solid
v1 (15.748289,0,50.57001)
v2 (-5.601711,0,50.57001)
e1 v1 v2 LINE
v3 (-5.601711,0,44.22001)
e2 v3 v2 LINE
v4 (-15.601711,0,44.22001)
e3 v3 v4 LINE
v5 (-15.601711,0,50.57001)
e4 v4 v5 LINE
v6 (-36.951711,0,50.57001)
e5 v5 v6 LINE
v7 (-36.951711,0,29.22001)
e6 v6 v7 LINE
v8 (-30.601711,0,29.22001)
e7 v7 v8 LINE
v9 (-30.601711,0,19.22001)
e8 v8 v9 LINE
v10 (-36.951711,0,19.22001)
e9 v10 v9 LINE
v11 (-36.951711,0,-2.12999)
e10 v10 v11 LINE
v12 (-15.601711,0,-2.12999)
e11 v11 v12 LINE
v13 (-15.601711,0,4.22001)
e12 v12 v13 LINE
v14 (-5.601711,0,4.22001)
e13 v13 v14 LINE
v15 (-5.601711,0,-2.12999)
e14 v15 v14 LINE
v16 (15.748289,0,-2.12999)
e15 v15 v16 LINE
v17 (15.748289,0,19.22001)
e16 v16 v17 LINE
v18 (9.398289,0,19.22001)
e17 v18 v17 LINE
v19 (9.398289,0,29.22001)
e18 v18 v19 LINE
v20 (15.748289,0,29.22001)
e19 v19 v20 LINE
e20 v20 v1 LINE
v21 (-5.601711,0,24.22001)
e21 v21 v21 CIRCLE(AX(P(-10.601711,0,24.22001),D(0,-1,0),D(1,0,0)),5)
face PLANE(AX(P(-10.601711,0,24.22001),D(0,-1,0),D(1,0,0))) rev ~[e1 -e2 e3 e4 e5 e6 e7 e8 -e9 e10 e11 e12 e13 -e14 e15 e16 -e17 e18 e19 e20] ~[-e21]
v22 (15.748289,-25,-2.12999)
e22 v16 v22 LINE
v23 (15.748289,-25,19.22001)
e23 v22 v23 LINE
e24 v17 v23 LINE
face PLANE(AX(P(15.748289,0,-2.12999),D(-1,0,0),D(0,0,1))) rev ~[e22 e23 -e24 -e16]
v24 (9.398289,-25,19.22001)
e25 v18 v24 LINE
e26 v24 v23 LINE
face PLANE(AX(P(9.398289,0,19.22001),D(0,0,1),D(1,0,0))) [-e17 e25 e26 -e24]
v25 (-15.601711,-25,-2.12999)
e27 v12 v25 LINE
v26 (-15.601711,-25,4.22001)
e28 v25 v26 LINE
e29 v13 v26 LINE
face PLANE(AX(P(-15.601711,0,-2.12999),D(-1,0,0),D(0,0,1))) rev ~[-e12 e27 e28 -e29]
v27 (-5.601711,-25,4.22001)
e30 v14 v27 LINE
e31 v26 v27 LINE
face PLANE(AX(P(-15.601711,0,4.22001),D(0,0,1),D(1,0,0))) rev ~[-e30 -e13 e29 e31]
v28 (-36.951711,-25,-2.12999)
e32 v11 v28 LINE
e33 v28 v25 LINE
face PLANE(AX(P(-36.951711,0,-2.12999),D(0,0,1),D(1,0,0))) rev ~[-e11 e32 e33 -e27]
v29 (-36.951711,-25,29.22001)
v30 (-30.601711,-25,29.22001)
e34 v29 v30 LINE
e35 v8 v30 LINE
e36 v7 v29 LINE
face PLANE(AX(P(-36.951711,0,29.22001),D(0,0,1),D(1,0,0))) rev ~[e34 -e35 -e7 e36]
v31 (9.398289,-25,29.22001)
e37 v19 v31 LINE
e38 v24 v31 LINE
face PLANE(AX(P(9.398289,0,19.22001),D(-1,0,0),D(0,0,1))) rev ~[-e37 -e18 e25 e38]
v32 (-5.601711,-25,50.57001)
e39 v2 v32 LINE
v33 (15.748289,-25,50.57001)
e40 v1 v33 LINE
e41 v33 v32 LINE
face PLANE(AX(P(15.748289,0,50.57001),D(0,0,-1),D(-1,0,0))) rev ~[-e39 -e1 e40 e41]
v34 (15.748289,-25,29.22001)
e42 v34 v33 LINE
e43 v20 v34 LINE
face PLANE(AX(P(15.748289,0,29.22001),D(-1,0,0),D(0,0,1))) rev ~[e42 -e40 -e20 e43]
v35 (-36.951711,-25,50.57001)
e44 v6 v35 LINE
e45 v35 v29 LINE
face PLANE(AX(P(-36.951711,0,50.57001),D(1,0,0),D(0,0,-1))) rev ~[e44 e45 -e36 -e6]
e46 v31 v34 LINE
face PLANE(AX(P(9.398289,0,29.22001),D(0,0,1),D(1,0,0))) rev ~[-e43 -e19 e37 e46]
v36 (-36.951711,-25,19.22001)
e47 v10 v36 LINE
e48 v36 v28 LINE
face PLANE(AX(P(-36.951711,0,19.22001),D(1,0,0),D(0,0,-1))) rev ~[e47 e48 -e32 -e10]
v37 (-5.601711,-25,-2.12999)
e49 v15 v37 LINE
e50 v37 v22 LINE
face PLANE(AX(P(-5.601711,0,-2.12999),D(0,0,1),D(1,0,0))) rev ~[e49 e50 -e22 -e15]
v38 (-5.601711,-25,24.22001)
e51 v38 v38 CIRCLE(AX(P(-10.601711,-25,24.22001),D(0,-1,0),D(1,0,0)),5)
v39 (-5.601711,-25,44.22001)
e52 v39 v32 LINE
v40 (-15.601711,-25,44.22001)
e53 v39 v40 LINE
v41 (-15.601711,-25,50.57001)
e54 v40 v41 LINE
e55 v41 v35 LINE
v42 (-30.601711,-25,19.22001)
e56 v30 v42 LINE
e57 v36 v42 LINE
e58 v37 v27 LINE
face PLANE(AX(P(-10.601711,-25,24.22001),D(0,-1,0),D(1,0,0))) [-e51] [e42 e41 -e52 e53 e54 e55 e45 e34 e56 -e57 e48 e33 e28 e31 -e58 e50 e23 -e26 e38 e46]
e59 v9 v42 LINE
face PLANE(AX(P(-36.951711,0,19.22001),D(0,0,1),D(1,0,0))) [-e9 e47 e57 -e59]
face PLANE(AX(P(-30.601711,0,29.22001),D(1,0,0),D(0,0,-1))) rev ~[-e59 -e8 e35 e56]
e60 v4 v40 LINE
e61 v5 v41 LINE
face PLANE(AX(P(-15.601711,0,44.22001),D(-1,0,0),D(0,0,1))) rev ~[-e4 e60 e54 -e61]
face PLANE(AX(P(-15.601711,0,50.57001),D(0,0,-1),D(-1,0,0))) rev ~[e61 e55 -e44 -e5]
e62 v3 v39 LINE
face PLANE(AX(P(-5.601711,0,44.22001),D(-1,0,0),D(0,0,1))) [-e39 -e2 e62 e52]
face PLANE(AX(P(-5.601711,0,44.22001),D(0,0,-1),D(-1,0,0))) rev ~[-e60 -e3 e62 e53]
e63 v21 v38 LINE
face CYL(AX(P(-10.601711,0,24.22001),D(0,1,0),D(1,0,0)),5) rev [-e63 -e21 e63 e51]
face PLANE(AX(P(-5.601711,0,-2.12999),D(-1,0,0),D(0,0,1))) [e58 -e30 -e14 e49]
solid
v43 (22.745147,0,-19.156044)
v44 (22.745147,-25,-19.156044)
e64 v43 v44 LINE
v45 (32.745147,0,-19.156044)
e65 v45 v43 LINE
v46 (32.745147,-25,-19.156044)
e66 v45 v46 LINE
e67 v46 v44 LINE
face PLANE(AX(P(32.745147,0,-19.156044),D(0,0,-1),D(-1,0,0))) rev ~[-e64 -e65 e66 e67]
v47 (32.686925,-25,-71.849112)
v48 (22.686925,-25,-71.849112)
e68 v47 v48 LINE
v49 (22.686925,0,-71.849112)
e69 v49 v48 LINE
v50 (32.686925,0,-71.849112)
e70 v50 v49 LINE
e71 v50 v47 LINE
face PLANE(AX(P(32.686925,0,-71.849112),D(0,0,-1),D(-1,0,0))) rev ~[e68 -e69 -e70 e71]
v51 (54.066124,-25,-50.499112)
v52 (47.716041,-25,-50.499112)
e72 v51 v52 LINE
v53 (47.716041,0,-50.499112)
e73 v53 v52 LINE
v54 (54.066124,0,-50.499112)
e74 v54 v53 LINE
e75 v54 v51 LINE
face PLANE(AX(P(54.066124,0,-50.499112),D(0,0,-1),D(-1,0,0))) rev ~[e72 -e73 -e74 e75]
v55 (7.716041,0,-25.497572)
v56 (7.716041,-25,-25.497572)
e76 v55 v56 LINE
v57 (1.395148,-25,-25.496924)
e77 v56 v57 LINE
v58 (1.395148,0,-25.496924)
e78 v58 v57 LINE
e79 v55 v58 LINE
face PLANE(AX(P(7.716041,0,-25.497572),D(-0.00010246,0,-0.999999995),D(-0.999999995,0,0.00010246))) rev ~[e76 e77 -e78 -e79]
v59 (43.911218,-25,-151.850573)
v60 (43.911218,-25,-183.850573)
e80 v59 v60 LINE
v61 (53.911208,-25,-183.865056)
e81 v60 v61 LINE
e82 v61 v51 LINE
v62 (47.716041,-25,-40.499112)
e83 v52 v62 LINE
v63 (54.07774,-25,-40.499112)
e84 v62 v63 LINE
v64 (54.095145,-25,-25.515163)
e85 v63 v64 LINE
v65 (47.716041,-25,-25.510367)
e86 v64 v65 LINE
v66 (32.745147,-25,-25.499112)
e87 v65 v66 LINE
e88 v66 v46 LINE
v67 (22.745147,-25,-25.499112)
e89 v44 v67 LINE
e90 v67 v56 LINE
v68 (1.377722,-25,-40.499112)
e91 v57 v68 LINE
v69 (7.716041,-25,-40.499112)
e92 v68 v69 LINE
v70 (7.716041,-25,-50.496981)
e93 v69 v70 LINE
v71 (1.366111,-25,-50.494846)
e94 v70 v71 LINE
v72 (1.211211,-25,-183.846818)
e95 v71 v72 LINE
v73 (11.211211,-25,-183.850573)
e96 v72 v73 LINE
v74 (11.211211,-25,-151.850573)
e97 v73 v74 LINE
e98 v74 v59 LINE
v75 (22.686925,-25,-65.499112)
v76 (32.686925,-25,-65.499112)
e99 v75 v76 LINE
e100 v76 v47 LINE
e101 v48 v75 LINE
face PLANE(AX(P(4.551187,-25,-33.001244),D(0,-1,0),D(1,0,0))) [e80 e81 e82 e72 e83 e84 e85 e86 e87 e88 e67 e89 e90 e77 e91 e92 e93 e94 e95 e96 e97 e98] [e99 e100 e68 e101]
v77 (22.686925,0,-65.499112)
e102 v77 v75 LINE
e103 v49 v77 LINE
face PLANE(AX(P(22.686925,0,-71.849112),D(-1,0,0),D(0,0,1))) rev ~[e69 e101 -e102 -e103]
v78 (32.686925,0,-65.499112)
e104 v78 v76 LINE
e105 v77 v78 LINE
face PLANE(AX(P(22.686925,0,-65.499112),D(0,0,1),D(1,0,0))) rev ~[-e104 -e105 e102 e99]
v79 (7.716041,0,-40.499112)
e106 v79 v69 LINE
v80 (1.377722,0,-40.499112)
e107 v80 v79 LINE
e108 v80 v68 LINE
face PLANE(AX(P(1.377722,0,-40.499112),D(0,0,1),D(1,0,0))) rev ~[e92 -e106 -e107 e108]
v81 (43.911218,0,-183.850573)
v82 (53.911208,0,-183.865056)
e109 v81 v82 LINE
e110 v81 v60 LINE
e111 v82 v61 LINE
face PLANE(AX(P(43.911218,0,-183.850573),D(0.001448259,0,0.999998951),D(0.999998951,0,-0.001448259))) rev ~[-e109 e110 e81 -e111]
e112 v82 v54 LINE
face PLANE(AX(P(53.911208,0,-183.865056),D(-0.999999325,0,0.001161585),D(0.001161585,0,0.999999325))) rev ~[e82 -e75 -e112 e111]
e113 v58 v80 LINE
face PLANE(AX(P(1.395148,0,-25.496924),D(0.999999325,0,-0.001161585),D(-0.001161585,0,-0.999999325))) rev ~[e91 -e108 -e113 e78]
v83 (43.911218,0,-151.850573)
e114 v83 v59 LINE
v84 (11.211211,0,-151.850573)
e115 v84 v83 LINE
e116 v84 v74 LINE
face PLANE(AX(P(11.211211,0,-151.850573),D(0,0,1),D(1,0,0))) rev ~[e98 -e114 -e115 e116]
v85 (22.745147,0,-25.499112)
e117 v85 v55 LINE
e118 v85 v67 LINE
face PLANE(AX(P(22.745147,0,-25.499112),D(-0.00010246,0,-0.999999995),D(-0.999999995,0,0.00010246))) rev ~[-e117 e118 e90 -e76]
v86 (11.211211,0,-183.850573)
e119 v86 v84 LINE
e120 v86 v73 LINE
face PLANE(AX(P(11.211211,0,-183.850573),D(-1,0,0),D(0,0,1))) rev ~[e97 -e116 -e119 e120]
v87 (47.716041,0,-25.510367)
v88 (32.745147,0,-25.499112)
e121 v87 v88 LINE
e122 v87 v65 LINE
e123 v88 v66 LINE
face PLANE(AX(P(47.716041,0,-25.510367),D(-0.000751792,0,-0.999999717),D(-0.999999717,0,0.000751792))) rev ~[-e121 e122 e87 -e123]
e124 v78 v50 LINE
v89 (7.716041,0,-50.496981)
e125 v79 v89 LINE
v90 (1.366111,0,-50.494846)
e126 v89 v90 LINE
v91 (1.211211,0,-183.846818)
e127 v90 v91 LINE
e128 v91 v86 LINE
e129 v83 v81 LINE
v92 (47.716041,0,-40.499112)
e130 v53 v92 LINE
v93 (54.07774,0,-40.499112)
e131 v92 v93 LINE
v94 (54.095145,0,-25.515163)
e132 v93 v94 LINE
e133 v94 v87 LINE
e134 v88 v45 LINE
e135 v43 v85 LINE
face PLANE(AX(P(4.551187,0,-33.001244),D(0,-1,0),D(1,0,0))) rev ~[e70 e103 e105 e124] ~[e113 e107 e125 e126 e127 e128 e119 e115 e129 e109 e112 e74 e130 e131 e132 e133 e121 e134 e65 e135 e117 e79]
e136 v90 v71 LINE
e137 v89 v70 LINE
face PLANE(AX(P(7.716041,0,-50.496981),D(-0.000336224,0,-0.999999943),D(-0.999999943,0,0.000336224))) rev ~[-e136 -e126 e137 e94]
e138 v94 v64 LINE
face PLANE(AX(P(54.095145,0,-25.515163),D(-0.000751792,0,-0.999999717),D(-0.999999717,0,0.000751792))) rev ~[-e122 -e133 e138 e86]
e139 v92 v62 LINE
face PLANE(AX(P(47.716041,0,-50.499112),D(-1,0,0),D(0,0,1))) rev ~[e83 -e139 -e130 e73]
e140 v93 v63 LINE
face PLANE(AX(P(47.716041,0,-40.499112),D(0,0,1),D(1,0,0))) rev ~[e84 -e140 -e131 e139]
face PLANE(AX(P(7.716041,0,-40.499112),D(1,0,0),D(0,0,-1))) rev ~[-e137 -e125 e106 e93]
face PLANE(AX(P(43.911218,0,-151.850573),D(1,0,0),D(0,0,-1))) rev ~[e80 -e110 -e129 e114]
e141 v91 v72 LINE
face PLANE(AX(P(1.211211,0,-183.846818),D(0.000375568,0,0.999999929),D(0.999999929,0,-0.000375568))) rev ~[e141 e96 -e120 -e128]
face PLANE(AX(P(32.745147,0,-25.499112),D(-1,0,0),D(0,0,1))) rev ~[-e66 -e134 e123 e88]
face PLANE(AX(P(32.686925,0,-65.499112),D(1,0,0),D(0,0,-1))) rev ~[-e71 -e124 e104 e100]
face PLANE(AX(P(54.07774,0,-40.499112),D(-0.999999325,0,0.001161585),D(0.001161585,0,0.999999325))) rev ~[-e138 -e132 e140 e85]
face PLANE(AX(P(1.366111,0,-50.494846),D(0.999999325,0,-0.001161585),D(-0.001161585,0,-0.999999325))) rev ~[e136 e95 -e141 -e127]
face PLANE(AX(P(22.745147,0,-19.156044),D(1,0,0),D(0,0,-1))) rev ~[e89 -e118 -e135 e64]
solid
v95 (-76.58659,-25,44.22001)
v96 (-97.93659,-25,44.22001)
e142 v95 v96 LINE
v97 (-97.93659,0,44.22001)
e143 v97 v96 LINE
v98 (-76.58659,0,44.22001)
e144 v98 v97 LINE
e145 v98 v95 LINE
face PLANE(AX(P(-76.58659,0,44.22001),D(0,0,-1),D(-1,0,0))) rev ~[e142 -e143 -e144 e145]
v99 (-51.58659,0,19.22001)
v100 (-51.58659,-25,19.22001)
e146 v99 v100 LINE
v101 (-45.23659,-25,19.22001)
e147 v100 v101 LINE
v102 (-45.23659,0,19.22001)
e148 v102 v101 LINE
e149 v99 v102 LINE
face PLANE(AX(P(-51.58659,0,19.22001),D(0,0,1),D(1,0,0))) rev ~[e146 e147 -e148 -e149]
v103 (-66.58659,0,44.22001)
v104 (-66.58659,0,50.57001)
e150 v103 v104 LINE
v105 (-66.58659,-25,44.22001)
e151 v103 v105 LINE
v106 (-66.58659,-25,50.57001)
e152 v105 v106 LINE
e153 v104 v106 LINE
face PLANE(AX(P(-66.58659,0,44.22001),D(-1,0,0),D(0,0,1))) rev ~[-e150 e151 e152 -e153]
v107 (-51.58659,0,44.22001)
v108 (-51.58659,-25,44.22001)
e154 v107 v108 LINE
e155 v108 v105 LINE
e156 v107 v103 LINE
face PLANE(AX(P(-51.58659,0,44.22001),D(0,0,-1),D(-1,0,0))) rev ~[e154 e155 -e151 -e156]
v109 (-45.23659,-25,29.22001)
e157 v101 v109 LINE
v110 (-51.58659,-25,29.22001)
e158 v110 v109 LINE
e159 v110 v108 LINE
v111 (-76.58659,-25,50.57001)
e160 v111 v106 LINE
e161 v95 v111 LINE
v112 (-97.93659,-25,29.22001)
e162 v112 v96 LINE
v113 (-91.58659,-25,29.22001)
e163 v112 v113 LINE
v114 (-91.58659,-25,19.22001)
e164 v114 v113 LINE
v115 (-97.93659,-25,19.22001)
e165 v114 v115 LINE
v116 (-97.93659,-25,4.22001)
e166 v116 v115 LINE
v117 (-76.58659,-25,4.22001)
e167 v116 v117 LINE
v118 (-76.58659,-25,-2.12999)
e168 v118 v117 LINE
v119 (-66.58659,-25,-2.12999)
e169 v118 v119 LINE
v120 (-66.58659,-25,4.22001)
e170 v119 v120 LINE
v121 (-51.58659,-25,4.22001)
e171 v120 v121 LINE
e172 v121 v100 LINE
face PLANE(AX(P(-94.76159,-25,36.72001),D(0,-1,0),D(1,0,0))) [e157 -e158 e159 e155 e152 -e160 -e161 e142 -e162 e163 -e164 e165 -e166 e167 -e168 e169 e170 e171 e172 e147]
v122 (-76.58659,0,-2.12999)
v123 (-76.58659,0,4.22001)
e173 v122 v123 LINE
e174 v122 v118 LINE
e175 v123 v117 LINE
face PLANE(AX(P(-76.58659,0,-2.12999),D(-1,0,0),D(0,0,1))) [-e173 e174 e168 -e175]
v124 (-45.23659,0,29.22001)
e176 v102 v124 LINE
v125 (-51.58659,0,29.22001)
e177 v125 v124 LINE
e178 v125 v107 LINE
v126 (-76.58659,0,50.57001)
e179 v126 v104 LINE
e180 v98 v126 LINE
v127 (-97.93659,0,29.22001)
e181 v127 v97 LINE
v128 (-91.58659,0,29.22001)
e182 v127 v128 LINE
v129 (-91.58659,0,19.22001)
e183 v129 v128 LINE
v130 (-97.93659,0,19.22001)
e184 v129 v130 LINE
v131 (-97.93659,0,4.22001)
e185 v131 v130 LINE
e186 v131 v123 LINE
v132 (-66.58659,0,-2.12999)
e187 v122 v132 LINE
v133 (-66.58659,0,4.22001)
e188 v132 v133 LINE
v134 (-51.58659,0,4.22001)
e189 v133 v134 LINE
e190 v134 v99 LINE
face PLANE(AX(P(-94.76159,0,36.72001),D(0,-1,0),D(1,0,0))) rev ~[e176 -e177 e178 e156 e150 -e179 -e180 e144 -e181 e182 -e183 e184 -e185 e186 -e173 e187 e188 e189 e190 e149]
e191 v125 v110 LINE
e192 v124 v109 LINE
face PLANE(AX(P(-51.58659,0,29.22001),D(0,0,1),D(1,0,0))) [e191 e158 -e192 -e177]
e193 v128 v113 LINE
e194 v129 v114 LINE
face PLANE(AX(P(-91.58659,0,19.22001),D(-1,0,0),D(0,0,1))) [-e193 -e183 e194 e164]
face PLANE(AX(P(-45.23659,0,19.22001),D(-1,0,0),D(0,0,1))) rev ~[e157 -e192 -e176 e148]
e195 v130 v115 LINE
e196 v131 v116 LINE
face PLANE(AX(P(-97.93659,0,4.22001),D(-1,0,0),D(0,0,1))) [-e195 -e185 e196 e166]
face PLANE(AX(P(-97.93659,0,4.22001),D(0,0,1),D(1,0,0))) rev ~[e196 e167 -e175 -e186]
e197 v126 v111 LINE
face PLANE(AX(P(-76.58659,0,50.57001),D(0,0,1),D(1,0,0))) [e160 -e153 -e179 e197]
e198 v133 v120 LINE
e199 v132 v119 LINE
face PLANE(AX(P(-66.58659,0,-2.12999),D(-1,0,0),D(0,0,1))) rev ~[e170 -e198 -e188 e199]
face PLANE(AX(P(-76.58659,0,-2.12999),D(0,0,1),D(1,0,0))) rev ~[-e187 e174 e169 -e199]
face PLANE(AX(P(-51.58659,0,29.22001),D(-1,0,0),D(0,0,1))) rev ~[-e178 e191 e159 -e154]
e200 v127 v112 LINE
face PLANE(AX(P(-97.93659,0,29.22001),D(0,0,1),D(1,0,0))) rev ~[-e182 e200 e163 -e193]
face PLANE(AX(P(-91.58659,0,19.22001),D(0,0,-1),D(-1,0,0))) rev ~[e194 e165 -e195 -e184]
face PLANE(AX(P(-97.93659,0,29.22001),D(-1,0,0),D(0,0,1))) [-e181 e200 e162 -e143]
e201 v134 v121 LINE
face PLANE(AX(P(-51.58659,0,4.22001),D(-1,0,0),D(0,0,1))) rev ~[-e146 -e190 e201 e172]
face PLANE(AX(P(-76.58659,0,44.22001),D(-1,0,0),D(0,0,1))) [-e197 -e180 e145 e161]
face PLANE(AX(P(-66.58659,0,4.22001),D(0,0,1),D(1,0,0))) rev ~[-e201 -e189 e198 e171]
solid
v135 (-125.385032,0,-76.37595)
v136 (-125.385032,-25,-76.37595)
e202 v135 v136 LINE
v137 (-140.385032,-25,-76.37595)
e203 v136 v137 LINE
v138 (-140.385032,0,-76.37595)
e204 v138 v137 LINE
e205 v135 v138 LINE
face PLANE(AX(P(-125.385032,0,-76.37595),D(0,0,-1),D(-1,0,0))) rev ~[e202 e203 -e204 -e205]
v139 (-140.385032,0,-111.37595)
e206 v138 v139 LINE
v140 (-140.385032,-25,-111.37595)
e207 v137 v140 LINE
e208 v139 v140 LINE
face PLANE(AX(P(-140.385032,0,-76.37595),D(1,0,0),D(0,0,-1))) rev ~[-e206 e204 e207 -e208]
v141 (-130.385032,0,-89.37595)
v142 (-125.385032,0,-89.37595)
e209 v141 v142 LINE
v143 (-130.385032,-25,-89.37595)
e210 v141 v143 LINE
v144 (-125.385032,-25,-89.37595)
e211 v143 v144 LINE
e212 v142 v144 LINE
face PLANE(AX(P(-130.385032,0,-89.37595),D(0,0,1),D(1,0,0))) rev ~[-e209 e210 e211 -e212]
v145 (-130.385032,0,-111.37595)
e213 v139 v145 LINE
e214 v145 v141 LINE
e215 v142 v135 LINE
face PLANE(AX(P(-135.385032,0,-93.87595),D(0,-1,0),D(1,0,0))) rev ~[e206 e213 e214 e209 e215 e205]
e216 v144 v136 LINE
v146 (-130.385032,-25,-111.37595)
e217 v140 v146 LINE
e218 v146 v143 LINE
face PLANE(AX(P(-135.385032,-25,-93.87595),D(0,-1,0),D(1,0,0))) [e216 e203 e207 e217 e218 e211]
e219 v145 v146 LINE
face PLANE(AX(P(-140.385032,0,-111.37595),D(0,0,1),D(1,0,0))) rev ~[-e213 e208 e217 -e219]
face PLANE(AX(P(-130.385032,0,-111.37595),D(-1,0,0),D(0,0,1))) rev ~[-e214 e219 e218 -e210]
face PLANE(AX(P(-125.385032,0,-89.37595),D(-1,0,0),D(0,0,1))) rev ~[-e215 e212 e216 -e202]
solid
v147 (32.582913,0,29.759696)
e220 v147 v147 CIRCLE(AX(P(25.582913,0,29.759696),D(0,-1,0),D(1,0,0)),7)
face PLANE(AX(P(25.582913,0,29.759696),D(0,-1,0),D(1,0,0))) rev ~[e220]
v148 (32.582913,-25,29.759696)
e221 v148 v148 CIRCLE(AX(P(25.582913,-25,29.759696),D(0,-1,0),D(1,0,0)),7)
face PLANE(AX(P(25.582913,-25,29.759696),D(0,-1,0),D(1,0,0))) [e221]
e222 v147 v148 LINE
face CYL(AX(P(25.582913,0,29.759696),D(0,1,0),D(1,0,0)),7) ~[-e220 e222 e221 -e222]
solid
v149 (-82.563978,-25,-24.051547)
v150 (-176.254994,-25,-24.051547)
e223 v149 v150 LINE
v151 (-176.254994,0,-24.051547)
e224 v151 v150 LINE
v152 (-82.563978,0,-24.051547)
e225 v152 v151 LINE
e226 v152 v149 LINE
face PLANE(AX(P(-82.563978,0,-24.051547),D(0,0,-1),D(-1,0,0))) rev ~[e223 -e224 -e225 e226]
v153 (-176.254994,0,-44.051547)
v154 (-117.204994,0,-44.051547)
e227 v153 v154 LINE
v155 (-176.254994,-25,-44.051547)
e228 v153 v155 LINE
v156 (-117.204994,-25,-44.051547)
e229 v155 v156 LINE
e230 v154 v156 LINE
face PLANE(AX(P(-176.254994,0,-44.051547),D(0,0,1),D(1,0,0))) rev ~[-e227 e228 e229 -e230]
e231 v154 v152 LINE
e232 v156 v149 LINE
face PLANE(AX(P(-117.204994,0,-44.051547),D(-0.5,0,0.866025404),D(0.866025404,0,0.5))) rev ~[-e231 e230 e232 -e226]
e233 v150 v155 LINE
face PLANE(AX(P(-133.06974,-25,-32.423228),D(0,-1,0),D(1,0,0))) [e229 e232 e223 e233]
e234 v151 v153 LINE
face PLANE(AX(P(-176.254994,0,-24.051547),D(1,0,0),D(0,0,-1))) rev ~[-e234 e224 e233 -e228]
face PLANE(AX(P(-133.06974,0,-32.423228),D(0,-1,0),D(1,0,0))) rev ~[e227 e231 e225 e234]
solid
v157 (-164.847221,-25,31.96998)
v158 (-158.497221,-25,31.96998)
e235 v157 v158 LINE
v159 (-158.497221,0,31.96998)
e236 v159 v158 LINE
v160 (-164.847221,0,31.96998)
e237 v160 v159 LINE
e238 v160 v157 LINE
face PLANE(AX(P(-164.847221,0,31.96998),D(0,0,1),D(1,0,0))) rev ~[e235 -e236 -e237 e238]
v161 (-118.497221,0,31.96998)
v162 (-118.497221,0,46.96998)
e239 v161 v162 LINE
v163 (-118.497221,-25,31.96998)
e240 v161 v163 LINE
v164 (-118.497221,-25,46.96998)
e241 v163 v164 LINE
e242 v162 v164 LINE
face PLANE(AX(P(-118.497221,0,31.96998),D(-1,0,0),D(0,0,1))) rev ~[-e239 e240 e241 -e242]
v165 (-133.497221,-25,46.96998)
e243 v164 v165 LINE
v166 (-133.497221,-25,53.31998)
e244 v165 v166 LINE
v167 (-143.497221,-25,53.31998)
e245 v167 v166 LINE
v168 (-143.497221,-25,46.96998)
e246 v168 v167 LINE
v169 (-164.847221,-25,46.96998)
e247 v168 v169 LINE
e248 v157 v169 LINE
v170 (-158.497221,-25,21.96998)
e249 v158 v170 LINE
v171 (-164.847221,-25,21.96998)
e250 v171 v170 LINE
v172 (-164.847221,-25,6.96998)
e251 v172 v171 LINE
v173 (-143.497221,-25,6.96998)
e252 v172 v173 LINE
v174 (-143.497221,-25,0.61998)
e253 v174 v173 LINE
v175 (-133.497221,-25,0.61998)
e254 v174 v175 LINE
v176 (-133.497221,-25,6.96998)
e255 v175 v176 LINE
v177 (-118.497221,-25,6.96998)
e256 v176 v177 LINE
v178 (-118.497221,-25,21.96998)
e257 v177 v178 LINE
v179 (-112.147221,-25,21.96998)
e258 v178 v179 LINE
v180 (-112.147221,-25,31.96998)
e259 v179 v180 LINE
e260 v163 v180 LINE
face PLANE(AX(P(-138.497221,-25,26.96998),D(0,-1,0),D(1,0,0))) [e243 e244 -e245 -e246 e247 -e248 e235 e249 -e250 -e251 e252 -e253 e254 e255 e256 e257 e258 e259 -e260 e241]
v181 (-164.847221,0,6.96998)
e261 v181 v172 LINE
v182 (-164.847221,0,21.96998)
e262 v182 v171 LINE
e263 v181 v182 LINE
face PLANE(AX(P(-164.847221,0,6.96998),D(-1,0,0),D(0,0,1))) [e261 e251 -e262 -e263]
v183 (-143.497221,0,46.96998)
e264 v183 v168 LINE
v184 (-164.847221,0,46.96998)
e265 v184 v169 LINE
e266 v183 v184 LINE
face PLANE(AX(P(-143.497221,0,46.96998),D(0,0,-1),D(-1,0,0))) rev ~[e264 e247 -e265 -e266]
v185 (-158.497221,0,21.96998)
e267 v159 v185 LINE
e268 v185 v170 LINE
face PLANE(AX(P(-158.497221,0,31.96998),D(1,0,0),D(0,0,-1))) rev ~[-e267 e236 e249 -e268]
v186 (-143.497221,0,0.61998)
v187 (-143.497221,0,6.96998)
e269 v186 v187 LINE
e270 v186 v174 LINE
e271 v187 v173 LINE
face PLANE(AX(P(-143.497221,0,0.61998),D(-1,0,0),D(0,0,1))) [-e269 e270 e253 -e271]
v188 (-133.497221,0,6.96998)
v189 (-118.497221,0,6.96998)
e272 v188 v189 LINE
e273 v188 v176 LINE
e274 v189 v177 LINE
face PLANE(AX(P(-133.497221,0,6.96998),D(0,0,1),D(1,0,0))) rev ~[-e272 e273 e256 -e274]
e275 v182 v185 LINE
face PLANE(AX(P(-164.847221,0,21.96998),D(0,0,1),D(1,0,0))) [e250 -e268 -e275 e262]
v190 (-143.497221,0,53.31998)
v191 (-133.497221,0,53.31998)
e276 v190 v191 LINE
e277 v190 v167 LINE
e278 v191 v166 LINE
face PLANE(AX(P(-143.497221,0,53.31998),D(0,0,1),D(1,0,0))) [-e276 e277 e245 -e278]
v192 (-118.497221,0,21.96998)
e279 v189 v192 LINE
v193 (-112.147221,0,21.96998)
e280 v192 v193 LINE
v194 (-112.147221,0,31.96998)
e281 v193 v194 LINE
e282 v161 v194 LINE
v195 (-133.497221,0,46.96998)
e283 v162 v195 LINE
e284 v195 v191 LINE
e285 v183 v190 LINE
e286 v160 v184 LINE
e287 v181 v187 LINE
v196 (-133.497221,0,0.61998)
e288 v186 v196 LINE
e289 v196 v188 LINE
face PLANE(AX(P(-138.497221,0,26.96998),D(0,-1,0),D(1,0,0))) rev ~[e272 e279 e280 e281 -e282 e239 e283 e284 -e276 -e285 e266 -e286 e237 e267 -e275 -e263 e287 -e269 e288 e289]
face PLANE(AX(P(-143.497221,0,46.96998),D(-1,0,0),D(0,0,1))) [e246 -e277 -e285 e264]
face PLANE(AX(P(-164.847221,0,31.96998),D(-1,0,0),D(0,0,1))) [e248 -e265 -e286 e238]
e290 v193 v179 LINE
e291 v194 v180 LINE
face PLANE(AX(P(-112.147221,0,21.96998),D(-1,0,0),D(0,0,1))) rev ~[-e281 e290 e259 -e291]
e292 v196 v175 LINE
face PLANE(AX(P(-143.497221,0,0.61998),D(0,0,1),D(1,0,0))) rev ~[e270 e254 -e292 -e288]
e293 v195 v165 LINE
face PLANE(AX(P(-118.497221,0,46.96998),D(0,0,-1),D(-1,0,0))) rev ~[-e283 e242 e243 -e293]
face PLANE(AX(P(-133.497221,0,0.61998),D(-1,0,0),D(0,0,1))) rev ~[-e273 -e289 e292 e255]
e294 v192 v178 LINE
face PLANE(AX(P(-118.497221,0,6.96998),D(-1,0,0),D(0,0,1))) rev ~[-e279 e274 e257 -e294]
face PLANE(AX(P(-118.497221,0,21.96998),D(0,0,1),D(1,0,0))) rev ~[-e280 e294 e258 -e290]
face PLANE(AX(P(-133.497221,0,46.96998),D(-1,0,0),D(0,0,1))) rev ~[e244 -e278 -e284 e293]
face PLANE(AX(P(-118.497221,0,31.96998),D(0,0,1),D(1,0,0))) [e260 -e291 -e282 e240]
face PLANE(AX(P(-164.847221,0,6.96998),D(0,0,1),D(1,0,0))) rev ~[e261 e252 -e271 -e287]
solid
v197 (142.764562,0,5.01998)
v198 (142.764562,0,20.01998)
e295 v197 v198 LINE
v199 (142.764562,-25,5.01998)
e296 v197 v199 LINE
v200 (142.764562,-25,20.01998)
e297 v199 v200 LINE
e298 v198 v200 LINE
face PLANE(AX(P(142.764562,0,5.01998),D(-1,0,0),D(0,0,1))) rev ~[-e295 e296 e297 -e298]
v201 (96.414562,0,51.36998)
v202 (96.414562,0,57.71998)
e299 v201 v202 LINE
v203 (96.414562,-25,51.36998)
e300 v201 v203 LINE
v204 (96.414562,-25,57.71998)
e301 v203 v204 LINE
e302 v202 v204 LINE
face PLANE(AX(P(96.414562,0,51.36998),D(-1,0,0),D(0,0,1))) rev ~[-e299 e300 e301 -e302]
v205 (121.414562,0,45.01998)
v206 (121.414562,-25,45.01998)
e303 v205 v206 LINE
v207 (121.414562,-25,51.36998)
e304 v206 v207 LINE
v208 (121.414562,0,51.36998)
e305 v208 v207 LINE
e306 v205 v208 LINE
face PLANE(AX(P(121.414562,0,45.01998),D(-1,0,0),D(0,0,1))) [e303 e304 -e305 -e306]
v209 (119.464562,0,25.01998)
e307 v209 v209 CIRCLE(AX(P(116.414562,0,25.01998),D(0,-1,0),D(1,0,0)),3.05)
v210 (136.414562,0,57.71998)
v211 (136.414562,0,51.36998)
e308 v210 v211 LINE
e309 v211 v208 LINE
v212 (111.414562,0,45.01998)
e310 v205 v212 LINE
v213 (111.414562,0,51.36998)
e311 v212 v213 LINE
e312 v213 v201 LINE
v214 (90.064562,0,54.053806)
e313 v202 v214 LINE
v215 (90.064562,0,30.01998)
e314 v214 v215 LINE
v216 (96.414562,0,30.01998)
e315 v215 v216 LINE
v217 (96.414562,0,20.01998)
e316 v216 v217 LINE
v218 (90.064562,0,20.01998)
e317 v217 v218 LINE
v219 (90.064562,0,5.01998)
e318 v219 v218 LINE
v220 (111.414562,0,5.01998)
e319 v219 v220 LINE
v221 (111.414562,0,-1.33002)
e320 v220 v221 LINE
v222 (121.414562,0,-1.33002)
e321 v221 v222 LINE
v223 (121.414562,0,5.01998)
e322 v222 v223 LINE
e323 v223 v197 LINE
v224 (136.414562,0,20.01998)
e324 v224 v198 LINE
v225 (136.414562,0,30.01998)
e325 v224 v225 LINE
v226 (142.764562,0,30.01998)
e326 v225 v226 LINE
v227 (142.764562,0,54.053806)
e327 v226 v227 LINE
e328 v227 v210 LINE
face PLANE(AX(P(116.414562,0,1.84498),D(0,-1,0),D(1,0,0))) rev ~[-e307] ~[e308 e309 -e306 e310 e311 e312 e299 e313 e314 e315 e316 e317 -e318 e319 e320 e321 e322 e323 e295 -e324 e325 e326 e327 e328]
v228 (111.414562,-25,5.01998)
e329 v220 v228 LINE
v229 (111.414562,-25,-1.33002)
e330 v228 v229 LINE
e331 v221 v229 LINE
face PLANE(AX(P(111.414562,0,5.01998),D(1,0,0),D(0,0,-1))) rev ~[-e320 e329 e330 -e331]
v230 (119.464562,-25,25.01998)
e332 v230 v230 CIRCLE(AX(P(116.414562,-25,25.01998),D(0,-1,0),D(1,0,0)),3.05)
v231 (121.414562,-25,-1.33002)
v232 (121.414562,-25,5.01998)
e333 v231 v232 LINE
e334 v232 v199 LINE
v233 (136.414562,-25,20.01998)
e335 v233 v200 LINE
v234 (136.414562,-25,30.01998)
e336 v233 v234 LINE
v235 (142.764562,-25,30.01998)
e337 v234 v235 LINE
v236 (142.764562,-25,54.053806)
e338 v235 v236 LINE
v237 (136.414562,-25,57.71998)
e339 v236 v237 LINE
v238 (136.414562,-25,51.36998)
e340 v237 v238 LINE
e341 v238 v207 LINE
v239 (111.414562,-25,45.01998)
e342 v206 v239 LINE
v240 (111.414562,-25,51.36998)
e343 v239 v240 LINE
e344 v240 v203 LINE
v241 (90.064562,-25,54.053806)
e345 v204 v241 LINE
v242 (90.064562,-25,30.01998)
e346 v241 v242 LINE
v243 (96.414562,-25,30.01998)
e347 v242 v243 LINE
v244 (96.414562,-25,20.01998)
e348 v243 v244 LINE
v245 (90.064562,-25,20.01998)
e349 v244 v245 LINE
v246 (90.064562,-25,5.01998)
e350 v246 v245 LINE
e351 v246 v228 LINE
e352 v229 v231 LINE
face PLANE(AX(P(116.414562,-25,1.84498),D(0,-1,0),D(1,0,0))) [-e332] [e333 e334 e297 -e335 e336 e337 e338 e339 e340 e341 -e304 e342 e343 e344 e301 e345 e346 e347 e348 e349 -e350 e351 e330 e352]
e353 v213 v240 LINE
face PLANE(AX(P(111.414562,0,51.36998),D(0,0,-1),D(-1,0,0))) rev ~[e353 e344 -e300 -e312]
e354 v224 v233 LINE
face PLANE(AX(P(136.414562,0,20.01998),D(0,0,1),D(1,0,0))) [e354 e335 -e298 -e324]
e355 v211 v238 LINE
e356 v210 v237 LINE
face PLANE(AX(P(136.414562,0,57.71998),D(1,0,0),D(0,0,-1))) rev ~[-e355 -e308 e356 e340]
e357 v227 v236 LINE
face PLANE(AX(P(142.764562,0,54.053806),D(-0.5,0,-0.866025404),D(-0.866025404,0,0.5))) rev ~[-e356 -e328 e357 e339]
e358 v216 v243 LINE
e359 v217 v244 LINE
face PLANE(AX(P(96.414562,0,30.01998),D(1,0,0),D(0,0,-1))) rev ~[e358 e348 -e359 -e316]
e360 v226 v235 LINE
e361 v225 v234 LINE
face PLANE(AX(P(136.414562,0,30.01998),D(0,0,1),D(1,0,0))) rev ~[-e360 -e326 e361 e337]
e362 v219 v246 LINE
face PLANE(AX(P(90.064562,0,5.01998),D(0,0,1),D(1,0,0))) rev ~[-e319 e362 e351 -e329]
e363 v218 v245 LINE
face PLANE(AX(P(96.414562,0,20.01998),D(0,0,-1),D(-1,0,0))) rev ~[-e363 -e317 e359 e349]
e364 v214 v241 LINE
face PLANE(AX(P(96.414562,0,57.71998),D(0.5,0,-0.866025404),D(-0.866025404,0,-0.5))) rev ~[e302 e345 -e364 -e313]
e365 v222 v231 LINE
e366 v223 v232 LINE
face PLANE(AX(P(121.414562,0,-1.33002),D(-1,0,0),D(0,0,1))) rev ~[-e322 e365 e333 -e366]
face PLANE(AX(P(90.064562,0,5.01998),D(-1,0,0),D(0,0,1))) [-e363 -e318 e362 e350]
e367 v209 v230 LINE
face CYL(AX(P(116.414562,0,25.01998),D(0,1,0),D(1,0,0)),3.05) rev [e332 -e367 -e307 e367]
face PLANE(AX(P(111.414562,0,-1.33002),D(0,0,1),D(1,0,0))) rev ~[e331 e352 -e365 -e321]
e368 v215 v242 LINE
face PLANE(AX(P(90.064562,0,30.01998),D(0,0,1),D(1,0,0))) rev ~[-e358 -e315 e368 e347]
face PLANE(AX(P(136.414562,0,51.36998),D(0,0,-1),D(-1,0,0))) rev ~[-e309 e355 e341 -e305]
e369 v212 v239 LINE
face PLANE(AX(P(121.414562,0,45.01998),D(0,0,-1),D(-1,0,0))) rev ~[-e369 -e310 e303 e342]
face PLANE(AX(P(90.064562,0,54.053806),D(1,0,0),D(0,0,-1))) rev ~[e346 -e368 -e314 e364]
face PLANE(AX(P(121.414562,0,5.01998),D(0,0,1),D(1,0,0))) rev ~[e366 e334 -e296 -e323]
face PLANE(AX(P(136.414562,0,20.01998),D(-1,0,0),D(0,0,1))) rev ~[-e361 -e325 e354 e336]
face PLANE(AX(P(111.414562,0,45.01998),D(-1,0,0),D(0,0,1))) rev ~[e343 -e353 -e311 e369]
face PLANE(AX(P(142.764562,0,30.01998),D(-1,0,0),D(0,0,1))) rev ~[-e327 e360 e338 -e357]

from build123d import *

# Parameters (mm, degrees)
F1_DEPTH = 25
F0_W     = 6.35
F0_H     = 10
F0_W_2   = 10
F0_H_2   = 6.35
F0_H_3   = 15
F0_R     = 5
F0_W_3   = 15
F0_R_2   = 3.05
F0_H_4   = 6.4862936566
F0_R_3   = 7
F0_W_4   = 5
F0_H_5   = 13


with BuildPart() as f1:
    # F0 (on Front) → F1 (new body)
    with BuildSketch(Plane.XZ):
        Polygon((7.716040658, -25.4975720675), (1.3951481077, -25.4969244297), (1.3777217764, -40.4991119474), (7.716040658, -40.4991119474), align=None)
        Polygon((27.677680377, -71.8491119474), (27.5612143982, -151.8505732841), (43.9112177113, -151.8505732841), (43.9112177113, -183.8505732841), (53.9112079293, -183.8650558751), (54.0661239456, -50.4991119474), (47.716040658, -50.4991119474), (47.716040658, -65.4991119474), (32.6869246952, -65.4991119474), (32.6869246952, -71.8491119474), align=None)
        Polygon((47.716040658, -50.4991119474), (47.716040658, -40.4991119474), (41.3542775405, -40.4991119474), (41.3543415102, -50.4991119474), align=None)
        Polygon((14.0577217764, -40.4991119474), (7.716040658, -40.4991119474), (7.716040658, -50.4969808545), (14.0543595396, -50.4991119474), align=None)
        Polygon((22.7451465298, -25.4991119474), (7.716040658, -25.4975720675), (7.716040658, -40.4991119474), (14.0577217764, -40.4991119474), (14.0543595396, -50.4991119474), (7.716040658, -50.4969808545), (7.716040658, -65.4991119474), (22.6869246952, -65.4991119474), (22.6869246952, -59.1491119474), (27.6961690134, -59.1491119474), (32.6869246952, -59.1491119474), (32.6869246952, -65.4991119474), (47.716040658, -65.4991119474), (47.716040658, -50.4991119474), (41.3543415102, -50.4991119474), (41.3542775405, -40.4991119474), (47.716040658, -40.4991119474), (47.716040658, -25.5103669452), (32.7451465298, -25.4991119474), (32.7451465298, -19.1560435671), (22.7451465298, -19.1560435671), align=None)
        Polygon((27.6961690134, -59.1491119474), (27.6869246952, -65.4991119474), (32.6869246952, -65.4991119474), (32.6869246952, -59.1491119474), align=None)
        Polygon((22.6869246952, -59.1491119474), (22.6869246952, -65.4991119474), (27.6869246952, -65.4991119474), (27.6961690134, -59.1491119474), align=None)
        Polygon((7.716040658, -50.4969808545), (1.3661108716, -50.4948458577), (1.2112110852, -183.8468176004), (11.2112110852, -183.8505732841), (11.2112110852, -151.8505732841), (27.5612143982, -151.8505732841), (27.677680377, -71.8491119474), (22.6869246952, -71.8491119474), (22.6869246952, -65.4991119474), (7.716040658, -65.4991119474), align=None)
        Polygon((54.0951449518, -25.5151627044), (47.716040658, -25.5103669452), (47.716040658, -40.4991119474), (54.0777398058, -40.4991119474), align=None)
    extrude(amount=F1_DEPTH)


with BuildPart() as f1b:
    # F0 (on Front) → F1, piece 2 (new body)
    with BuildSketch(Plane.XZ):
        Polygon((-133.4972210269, 6.9699799252), (-118.4972210269, 6.9699799252), (-118.4972210269, 21.9699799252), (-124.8472210269, 21.9699799252), (-124.8472210269, 31.9699799252), (-118.4972210269, 31.9699799252), (-118.4972210269, 46.9699799252), (-133.4972210269, 46.9699799252), (-133.4972210269, 40.6199799252), (-143.4972210269, 40.6199799252), (-143.4972210269, 46.9699799252), (-158.4972210269, 46.9699799252), (-158.4972210269, 31.9699799252), (-152.1472210269, 31.9699799252), (-152.1472210269, 21.9699799252), (-158.4972210269, 21.9699799252), (-158.4972210269, 6.9699799252), (-143.4972210269, 6.9699799252), (-143.4972210269, 13.3199799252), (-133.4972210269, 13.3199799252), align=None)
        with Locations((-155.3222210269, 26.9699799252)):
            Rectangle(F0_W, F0_H)
        with Locations((-138.4972210269, 10.1449799252)):
            Rectangle(F0_W_2, F0_H_2)
        with Locations((-121.6722210269, 26.9699799252)):
            Rectangle(F0_W, F0_H)
        with Locations((-138.4972210269, 43.7949799252)):
            Rectangle(F0_W_2, F0_H_2)
        with Locations((-138.4972210269, 3.7949799252)):
            Rectangle(F0_W_2, F0_H_2)
        with Locations((-161.6722210269, 39.4699799252)):
            Rectangle(F0_W, F0_H_3)
        with Locations((-161.6722210269, 14.4699799252)):
            Rectangle(F0_W, F0_H_3)
        with Locations((-138.4972210269, 50.1449799252)):
            Rectangle(F0_W_2, F0_H_2)
        with Locations((-115.3222210269, 26.9699799252)):
            Rectangle(F0_W, F0_H)
    extrude(amount=F1_DEPTH)


with BuildPart() as f1c:
    # F0 (on Front) → F1, piece 3 (new body)
    with BuildSketch(Plane.XZ):
        with Locations((-94.7615902387, 36.7200101991)):
            Rectangle(F0_W, F0_H_3)
        with Locations((-94.7615902387, 11.7200101991)):
            Rectangle(F0_W, F0_H_3)
        Polygon((-66.5865902387, 4.2200101991), (-51.5865902387, 4.2200101991), (-51.5865902387, 19.2200101991), (-57.9365902387, 19.2200101991), (-57.9365902387, 29.2200101991), (-51.5865902387, 29.2200101991), (-51.5865902387, 44.2200101991), (-66.5865902387, 44.2200101991), (-66.5865902387, 37.8700101991), (-76.5865902387, 37.8700101991), (-76.5865902387, 44.2200101991), (-91.5865902387, 44.2200101991), (-91.5865902387, 29.2200101991), (-85.2365902387, 29.2200101991), (-85.2365902387, 19.2200101991), (-91.5865902387, 19.2200101991), (-91.5865902387, 4.2200101991), (-76.5865902387, 4.2200101991), (-76.5865902387, 10.5700101991), (-66.5865902387, 10.5700101991), align=None)
        with Locations((-71.5865902387, 41.0450101991)):
            Rectangle(F0_W_2, F0_H_2)
        with Locations((-71.5865902387, 47.3950101991)):
            Rectangle(F0_W_2, F0_H_2)
        with Locations((-54.7615902387, 24.2200101991)):
            Rectangle(F0_W, F0_H)
        with Locations((-48.4115902387, 24.2200101991)):
            Rectangle(F0_W, F0_H)
        with Locations((-71.5865902387, 7.3950101991)):
            Rectangle(F0_W_2, F0_H_2)
        with Locations((-71.5865902387, 1.0450101991)):
            Rectangle(F0_W_2, F0_H_2)
        with Locations((-88.4115902387, 24.2200101991)):
            Rectangle(F0_W, F0_H)
    extrude(amount=F1_DEPTH)


with BuildPart() as f1d:
    # F0 (on Front) → F1, piece 4 (new body)
    with BuildSketch(Plane.XZ):
        Polygon((-5.6017105066, 4.2200101991), (9.3982894934, 4.2200101991), (9.3982894934, 19.2200101991), (3.0482894934, 19.2200101991), (3.0482894934, 29.2200101991), (9.3982894934, 29.2200101991), (9.3982894934, 44.2200101991), (-5.6017105066, 44.2200101991), (-5.6017105066, 37.8700101991), (-15.6017105066, 37.8700101991), (-15.6017105066, 44.2200101991), (-30.6017105066, 44.2200101991), (-30.6017105066, 29.2200101991), (-24.2517105066, 29.2200101991), (-24.2517105066, 19.2200101991), (-30.6017105066, 19.2200101991), (-30.6017105066, 4.2200101991), (-15.6017105066, 4.2200101991), (-15.6017105066, 10.5700101991), (-5.6017105066, 10.5700101991), align=None)
        with Locations((-10.6017105066, 24.2200101991)):
            Circle(F0_R, mode=Mode.SUBTRACT)
        with Locations((-27.4267105066, 24.2200101991)):
            Rectangle(F0_W, F0_H)
        with Locations((-33.7767105066, 11.7200101991)):
            Rectangle(F0_W, F0_H_3)
        with Locations((6.2232894934, 24.2200101991)):
            Rectangle(F0_W, F0_H)
        with Locations((-10.6017105066, 41.0450101991)):
            Rectangle(F0_W_2, F0_H_2)
        with Locations((-10.6017105066, 7.3950101991)):
            Rectangle(F0_W_2, F0_H_2)
        with Locations((-33.7767105066, 47.3950101991)):
            Rectangle(F0_W, F0_H_2)
        with Locations((-33.7767105066, 36.7200101991)):
            Rectangle(F0_W, F0_H_3)
        with Locations((-23.1017105066, 47.3950101991)):
            Rectangle(F0_W_3, F0_H_2)
        with Locations((1.8982894934, 47.3950101991)):
            Rectangle(F0_W_3, F0_H_2)
        with Locations((12.5732894934, 47.3950101991)):
            Rectangle(F0_W, F0_H_2)
        with Locations((12.5732894934, 36.7200101991)):
            Rectangle(F0_W, F0_H_3)
        with Locations((12.5732894934, 11.7200101991)):
            Rectangle(F0_W, F0_H_3)
        with Locations((12.5732894934, 1.0450101991)):
            Rectangle(F0_W, F0_H_2)
        with Locations((1.8982894934, 1.0450101991)):
            Rectangle(F0_W_3, F0_H_2)
        with Locations((-23.1017105066, 1.0450101991)):
            Rectangle(F0_W_3, F0_H_2)
        with Locations((-33.7767105066, 1.0450101991)):
            Rectangle(F0_W, F0_H_2)
    extrude(amount=F1_DEPTH)


with BuildPart() as f1e:
    # F0 (on Front) → F1, piece 5 (new body)
    with BuildSketch(Plane.XZ):
        with Locations((116.4145616193, 1.8449799252)):
            Rectangle(F0_W_2, F0_H_2)
        with Locations((116.4145616193, 8.1949799252)):
            Rectangle(F0_W_2, F0_H_2)
        Polygon((121.4145616193, 5.0199799252), (136.4145616193, 5.0199799252), (136.4145616193, 20.0199799252), (130.0645616193, 20.0199799252), (130.0645616193, 30.0199799252), (136.4145616193, 30.0199799252), (136.4145616193, 45.0199799252), (121.4145616193, 45.0199799252), (121.4145616193, 38.5336862686), (111.4145616193, 38.5336862686), (111.4145616193, 45.0199799252), (96.4145616193, 45.0199799252), (96.4145616193, 30.0199799252), (102.7645616193, 30.0199799252), (102.7645616193, 20.0199799252), (96.4145616193, 20.0199799252), (96.4145616193, 5.0199799252), (111.4145616193, 5.0199799252), (111.4145616193, 11.3699799252), (121.4145616193, 11.3699799252), align=None)
        with Locations((116.4145616193, 25.0199799252)):
            Circle(F0_R_2, mode=Mode.SUBTRACT)
        with Locations((93.2395616193, 12.5199799252)):
            Rectangle(F0_W, F0_H_3)
        with Locations((99.5895616193, 25.0199799252)):
            Rectangle(F0_W, F0_H)
        Polygon((90.0645616193, 30.0199799252), (96.4145616193, 30.0199799252), (96.4145616193, 45.0199799252), (96.4145616193, 51.3699799252), (90.0645616193, 51.3699799252), align=None)
        with Locations((116.4145616193, 41.7768330969)):
            Rectangle(F0_W_2, F0_H_4)
        with Locations((103.9145616193, 48.1949799252)):
            Rectangle(F0_W_3, F0_H_2)
        with Locations((128.9145616193, 48.1949799252)):
            Rectangle(F0_W_3, F0_H_2)
        with Locations((133.2395616193, 25.0199799252)):
            Rectangle(F0_W, F0_H)
        with Locations((139.5895616193, 12.5199799252)):
            Rectangle(F0_W, F0_H_3)
        Polygon((136.4145616193, 30.0199799252), (142.7645616193, 30.0199799252), (142.7645616193, 51.3699799252), (136.4145616193, 51.3699799252), (136.4145616193, 45.0199799252), align=None)
        Polygon((136.4145616193, 51.3699799252), (142.7645616193, 51.3699799252), (142.7645616193, 54.0538057158), (136.4145616193, 57.7199799252), align=None)
        Polygon((96.4145616193, 51.3699799252), (96.4145616193, 57.7199799252), (90.0645616193, 54.0538057158), (90.0645616193, 51.3699799252), align=None)
    extrude(amount=F1_DEPTH)


with BuildPart() as f1f:
    # F0 (on Front) → F1, piece 6 (new body)
    with BuildSketch(Plane.XZ):
        with Locations((25.5829133093, 29.7596957535)):
            Circle(F0_R_3)
    extrude(amount=F1_DEPTH)


with BuildPart() as f1g:
    # F0 (on Front) → F1, piece 7 (new body)
    with BuildSketch(Plane.XZ):
        Polygon((-176.2549936652, -44.0515466034), (-117.2049936652, -44.0515466034), (-82.5639775138, -24.0515466034), (-176.2549936652, -24.0515466034), align=None)
    extrude(amount=F1_DEPTH)


with BuildPart() as f1h:
    # F0 (on Front) → F1, piece 8 (new body)
    with BuildSketch(Plane.XZ):
        Polygon((-140.3850317001, -111.3759502769), (-130.3850317001, -111.3759502769), (-130.3850317001, -89.3759502769), (-130.3850317001, -76.3759502769), (-140.3850317001, -76.3759502769), align=None)
        with Locations((-127.8850317001, -82.8759502769)):
            Rectangle(F0_W_4, F0_H_5)
    extrude(amount=F1_DEPTH)


solid = Compound([f1.part, f1b.part, f1c.part, f1d.part, f1e.part, f1f.part, f1g.part, f1h.part])
